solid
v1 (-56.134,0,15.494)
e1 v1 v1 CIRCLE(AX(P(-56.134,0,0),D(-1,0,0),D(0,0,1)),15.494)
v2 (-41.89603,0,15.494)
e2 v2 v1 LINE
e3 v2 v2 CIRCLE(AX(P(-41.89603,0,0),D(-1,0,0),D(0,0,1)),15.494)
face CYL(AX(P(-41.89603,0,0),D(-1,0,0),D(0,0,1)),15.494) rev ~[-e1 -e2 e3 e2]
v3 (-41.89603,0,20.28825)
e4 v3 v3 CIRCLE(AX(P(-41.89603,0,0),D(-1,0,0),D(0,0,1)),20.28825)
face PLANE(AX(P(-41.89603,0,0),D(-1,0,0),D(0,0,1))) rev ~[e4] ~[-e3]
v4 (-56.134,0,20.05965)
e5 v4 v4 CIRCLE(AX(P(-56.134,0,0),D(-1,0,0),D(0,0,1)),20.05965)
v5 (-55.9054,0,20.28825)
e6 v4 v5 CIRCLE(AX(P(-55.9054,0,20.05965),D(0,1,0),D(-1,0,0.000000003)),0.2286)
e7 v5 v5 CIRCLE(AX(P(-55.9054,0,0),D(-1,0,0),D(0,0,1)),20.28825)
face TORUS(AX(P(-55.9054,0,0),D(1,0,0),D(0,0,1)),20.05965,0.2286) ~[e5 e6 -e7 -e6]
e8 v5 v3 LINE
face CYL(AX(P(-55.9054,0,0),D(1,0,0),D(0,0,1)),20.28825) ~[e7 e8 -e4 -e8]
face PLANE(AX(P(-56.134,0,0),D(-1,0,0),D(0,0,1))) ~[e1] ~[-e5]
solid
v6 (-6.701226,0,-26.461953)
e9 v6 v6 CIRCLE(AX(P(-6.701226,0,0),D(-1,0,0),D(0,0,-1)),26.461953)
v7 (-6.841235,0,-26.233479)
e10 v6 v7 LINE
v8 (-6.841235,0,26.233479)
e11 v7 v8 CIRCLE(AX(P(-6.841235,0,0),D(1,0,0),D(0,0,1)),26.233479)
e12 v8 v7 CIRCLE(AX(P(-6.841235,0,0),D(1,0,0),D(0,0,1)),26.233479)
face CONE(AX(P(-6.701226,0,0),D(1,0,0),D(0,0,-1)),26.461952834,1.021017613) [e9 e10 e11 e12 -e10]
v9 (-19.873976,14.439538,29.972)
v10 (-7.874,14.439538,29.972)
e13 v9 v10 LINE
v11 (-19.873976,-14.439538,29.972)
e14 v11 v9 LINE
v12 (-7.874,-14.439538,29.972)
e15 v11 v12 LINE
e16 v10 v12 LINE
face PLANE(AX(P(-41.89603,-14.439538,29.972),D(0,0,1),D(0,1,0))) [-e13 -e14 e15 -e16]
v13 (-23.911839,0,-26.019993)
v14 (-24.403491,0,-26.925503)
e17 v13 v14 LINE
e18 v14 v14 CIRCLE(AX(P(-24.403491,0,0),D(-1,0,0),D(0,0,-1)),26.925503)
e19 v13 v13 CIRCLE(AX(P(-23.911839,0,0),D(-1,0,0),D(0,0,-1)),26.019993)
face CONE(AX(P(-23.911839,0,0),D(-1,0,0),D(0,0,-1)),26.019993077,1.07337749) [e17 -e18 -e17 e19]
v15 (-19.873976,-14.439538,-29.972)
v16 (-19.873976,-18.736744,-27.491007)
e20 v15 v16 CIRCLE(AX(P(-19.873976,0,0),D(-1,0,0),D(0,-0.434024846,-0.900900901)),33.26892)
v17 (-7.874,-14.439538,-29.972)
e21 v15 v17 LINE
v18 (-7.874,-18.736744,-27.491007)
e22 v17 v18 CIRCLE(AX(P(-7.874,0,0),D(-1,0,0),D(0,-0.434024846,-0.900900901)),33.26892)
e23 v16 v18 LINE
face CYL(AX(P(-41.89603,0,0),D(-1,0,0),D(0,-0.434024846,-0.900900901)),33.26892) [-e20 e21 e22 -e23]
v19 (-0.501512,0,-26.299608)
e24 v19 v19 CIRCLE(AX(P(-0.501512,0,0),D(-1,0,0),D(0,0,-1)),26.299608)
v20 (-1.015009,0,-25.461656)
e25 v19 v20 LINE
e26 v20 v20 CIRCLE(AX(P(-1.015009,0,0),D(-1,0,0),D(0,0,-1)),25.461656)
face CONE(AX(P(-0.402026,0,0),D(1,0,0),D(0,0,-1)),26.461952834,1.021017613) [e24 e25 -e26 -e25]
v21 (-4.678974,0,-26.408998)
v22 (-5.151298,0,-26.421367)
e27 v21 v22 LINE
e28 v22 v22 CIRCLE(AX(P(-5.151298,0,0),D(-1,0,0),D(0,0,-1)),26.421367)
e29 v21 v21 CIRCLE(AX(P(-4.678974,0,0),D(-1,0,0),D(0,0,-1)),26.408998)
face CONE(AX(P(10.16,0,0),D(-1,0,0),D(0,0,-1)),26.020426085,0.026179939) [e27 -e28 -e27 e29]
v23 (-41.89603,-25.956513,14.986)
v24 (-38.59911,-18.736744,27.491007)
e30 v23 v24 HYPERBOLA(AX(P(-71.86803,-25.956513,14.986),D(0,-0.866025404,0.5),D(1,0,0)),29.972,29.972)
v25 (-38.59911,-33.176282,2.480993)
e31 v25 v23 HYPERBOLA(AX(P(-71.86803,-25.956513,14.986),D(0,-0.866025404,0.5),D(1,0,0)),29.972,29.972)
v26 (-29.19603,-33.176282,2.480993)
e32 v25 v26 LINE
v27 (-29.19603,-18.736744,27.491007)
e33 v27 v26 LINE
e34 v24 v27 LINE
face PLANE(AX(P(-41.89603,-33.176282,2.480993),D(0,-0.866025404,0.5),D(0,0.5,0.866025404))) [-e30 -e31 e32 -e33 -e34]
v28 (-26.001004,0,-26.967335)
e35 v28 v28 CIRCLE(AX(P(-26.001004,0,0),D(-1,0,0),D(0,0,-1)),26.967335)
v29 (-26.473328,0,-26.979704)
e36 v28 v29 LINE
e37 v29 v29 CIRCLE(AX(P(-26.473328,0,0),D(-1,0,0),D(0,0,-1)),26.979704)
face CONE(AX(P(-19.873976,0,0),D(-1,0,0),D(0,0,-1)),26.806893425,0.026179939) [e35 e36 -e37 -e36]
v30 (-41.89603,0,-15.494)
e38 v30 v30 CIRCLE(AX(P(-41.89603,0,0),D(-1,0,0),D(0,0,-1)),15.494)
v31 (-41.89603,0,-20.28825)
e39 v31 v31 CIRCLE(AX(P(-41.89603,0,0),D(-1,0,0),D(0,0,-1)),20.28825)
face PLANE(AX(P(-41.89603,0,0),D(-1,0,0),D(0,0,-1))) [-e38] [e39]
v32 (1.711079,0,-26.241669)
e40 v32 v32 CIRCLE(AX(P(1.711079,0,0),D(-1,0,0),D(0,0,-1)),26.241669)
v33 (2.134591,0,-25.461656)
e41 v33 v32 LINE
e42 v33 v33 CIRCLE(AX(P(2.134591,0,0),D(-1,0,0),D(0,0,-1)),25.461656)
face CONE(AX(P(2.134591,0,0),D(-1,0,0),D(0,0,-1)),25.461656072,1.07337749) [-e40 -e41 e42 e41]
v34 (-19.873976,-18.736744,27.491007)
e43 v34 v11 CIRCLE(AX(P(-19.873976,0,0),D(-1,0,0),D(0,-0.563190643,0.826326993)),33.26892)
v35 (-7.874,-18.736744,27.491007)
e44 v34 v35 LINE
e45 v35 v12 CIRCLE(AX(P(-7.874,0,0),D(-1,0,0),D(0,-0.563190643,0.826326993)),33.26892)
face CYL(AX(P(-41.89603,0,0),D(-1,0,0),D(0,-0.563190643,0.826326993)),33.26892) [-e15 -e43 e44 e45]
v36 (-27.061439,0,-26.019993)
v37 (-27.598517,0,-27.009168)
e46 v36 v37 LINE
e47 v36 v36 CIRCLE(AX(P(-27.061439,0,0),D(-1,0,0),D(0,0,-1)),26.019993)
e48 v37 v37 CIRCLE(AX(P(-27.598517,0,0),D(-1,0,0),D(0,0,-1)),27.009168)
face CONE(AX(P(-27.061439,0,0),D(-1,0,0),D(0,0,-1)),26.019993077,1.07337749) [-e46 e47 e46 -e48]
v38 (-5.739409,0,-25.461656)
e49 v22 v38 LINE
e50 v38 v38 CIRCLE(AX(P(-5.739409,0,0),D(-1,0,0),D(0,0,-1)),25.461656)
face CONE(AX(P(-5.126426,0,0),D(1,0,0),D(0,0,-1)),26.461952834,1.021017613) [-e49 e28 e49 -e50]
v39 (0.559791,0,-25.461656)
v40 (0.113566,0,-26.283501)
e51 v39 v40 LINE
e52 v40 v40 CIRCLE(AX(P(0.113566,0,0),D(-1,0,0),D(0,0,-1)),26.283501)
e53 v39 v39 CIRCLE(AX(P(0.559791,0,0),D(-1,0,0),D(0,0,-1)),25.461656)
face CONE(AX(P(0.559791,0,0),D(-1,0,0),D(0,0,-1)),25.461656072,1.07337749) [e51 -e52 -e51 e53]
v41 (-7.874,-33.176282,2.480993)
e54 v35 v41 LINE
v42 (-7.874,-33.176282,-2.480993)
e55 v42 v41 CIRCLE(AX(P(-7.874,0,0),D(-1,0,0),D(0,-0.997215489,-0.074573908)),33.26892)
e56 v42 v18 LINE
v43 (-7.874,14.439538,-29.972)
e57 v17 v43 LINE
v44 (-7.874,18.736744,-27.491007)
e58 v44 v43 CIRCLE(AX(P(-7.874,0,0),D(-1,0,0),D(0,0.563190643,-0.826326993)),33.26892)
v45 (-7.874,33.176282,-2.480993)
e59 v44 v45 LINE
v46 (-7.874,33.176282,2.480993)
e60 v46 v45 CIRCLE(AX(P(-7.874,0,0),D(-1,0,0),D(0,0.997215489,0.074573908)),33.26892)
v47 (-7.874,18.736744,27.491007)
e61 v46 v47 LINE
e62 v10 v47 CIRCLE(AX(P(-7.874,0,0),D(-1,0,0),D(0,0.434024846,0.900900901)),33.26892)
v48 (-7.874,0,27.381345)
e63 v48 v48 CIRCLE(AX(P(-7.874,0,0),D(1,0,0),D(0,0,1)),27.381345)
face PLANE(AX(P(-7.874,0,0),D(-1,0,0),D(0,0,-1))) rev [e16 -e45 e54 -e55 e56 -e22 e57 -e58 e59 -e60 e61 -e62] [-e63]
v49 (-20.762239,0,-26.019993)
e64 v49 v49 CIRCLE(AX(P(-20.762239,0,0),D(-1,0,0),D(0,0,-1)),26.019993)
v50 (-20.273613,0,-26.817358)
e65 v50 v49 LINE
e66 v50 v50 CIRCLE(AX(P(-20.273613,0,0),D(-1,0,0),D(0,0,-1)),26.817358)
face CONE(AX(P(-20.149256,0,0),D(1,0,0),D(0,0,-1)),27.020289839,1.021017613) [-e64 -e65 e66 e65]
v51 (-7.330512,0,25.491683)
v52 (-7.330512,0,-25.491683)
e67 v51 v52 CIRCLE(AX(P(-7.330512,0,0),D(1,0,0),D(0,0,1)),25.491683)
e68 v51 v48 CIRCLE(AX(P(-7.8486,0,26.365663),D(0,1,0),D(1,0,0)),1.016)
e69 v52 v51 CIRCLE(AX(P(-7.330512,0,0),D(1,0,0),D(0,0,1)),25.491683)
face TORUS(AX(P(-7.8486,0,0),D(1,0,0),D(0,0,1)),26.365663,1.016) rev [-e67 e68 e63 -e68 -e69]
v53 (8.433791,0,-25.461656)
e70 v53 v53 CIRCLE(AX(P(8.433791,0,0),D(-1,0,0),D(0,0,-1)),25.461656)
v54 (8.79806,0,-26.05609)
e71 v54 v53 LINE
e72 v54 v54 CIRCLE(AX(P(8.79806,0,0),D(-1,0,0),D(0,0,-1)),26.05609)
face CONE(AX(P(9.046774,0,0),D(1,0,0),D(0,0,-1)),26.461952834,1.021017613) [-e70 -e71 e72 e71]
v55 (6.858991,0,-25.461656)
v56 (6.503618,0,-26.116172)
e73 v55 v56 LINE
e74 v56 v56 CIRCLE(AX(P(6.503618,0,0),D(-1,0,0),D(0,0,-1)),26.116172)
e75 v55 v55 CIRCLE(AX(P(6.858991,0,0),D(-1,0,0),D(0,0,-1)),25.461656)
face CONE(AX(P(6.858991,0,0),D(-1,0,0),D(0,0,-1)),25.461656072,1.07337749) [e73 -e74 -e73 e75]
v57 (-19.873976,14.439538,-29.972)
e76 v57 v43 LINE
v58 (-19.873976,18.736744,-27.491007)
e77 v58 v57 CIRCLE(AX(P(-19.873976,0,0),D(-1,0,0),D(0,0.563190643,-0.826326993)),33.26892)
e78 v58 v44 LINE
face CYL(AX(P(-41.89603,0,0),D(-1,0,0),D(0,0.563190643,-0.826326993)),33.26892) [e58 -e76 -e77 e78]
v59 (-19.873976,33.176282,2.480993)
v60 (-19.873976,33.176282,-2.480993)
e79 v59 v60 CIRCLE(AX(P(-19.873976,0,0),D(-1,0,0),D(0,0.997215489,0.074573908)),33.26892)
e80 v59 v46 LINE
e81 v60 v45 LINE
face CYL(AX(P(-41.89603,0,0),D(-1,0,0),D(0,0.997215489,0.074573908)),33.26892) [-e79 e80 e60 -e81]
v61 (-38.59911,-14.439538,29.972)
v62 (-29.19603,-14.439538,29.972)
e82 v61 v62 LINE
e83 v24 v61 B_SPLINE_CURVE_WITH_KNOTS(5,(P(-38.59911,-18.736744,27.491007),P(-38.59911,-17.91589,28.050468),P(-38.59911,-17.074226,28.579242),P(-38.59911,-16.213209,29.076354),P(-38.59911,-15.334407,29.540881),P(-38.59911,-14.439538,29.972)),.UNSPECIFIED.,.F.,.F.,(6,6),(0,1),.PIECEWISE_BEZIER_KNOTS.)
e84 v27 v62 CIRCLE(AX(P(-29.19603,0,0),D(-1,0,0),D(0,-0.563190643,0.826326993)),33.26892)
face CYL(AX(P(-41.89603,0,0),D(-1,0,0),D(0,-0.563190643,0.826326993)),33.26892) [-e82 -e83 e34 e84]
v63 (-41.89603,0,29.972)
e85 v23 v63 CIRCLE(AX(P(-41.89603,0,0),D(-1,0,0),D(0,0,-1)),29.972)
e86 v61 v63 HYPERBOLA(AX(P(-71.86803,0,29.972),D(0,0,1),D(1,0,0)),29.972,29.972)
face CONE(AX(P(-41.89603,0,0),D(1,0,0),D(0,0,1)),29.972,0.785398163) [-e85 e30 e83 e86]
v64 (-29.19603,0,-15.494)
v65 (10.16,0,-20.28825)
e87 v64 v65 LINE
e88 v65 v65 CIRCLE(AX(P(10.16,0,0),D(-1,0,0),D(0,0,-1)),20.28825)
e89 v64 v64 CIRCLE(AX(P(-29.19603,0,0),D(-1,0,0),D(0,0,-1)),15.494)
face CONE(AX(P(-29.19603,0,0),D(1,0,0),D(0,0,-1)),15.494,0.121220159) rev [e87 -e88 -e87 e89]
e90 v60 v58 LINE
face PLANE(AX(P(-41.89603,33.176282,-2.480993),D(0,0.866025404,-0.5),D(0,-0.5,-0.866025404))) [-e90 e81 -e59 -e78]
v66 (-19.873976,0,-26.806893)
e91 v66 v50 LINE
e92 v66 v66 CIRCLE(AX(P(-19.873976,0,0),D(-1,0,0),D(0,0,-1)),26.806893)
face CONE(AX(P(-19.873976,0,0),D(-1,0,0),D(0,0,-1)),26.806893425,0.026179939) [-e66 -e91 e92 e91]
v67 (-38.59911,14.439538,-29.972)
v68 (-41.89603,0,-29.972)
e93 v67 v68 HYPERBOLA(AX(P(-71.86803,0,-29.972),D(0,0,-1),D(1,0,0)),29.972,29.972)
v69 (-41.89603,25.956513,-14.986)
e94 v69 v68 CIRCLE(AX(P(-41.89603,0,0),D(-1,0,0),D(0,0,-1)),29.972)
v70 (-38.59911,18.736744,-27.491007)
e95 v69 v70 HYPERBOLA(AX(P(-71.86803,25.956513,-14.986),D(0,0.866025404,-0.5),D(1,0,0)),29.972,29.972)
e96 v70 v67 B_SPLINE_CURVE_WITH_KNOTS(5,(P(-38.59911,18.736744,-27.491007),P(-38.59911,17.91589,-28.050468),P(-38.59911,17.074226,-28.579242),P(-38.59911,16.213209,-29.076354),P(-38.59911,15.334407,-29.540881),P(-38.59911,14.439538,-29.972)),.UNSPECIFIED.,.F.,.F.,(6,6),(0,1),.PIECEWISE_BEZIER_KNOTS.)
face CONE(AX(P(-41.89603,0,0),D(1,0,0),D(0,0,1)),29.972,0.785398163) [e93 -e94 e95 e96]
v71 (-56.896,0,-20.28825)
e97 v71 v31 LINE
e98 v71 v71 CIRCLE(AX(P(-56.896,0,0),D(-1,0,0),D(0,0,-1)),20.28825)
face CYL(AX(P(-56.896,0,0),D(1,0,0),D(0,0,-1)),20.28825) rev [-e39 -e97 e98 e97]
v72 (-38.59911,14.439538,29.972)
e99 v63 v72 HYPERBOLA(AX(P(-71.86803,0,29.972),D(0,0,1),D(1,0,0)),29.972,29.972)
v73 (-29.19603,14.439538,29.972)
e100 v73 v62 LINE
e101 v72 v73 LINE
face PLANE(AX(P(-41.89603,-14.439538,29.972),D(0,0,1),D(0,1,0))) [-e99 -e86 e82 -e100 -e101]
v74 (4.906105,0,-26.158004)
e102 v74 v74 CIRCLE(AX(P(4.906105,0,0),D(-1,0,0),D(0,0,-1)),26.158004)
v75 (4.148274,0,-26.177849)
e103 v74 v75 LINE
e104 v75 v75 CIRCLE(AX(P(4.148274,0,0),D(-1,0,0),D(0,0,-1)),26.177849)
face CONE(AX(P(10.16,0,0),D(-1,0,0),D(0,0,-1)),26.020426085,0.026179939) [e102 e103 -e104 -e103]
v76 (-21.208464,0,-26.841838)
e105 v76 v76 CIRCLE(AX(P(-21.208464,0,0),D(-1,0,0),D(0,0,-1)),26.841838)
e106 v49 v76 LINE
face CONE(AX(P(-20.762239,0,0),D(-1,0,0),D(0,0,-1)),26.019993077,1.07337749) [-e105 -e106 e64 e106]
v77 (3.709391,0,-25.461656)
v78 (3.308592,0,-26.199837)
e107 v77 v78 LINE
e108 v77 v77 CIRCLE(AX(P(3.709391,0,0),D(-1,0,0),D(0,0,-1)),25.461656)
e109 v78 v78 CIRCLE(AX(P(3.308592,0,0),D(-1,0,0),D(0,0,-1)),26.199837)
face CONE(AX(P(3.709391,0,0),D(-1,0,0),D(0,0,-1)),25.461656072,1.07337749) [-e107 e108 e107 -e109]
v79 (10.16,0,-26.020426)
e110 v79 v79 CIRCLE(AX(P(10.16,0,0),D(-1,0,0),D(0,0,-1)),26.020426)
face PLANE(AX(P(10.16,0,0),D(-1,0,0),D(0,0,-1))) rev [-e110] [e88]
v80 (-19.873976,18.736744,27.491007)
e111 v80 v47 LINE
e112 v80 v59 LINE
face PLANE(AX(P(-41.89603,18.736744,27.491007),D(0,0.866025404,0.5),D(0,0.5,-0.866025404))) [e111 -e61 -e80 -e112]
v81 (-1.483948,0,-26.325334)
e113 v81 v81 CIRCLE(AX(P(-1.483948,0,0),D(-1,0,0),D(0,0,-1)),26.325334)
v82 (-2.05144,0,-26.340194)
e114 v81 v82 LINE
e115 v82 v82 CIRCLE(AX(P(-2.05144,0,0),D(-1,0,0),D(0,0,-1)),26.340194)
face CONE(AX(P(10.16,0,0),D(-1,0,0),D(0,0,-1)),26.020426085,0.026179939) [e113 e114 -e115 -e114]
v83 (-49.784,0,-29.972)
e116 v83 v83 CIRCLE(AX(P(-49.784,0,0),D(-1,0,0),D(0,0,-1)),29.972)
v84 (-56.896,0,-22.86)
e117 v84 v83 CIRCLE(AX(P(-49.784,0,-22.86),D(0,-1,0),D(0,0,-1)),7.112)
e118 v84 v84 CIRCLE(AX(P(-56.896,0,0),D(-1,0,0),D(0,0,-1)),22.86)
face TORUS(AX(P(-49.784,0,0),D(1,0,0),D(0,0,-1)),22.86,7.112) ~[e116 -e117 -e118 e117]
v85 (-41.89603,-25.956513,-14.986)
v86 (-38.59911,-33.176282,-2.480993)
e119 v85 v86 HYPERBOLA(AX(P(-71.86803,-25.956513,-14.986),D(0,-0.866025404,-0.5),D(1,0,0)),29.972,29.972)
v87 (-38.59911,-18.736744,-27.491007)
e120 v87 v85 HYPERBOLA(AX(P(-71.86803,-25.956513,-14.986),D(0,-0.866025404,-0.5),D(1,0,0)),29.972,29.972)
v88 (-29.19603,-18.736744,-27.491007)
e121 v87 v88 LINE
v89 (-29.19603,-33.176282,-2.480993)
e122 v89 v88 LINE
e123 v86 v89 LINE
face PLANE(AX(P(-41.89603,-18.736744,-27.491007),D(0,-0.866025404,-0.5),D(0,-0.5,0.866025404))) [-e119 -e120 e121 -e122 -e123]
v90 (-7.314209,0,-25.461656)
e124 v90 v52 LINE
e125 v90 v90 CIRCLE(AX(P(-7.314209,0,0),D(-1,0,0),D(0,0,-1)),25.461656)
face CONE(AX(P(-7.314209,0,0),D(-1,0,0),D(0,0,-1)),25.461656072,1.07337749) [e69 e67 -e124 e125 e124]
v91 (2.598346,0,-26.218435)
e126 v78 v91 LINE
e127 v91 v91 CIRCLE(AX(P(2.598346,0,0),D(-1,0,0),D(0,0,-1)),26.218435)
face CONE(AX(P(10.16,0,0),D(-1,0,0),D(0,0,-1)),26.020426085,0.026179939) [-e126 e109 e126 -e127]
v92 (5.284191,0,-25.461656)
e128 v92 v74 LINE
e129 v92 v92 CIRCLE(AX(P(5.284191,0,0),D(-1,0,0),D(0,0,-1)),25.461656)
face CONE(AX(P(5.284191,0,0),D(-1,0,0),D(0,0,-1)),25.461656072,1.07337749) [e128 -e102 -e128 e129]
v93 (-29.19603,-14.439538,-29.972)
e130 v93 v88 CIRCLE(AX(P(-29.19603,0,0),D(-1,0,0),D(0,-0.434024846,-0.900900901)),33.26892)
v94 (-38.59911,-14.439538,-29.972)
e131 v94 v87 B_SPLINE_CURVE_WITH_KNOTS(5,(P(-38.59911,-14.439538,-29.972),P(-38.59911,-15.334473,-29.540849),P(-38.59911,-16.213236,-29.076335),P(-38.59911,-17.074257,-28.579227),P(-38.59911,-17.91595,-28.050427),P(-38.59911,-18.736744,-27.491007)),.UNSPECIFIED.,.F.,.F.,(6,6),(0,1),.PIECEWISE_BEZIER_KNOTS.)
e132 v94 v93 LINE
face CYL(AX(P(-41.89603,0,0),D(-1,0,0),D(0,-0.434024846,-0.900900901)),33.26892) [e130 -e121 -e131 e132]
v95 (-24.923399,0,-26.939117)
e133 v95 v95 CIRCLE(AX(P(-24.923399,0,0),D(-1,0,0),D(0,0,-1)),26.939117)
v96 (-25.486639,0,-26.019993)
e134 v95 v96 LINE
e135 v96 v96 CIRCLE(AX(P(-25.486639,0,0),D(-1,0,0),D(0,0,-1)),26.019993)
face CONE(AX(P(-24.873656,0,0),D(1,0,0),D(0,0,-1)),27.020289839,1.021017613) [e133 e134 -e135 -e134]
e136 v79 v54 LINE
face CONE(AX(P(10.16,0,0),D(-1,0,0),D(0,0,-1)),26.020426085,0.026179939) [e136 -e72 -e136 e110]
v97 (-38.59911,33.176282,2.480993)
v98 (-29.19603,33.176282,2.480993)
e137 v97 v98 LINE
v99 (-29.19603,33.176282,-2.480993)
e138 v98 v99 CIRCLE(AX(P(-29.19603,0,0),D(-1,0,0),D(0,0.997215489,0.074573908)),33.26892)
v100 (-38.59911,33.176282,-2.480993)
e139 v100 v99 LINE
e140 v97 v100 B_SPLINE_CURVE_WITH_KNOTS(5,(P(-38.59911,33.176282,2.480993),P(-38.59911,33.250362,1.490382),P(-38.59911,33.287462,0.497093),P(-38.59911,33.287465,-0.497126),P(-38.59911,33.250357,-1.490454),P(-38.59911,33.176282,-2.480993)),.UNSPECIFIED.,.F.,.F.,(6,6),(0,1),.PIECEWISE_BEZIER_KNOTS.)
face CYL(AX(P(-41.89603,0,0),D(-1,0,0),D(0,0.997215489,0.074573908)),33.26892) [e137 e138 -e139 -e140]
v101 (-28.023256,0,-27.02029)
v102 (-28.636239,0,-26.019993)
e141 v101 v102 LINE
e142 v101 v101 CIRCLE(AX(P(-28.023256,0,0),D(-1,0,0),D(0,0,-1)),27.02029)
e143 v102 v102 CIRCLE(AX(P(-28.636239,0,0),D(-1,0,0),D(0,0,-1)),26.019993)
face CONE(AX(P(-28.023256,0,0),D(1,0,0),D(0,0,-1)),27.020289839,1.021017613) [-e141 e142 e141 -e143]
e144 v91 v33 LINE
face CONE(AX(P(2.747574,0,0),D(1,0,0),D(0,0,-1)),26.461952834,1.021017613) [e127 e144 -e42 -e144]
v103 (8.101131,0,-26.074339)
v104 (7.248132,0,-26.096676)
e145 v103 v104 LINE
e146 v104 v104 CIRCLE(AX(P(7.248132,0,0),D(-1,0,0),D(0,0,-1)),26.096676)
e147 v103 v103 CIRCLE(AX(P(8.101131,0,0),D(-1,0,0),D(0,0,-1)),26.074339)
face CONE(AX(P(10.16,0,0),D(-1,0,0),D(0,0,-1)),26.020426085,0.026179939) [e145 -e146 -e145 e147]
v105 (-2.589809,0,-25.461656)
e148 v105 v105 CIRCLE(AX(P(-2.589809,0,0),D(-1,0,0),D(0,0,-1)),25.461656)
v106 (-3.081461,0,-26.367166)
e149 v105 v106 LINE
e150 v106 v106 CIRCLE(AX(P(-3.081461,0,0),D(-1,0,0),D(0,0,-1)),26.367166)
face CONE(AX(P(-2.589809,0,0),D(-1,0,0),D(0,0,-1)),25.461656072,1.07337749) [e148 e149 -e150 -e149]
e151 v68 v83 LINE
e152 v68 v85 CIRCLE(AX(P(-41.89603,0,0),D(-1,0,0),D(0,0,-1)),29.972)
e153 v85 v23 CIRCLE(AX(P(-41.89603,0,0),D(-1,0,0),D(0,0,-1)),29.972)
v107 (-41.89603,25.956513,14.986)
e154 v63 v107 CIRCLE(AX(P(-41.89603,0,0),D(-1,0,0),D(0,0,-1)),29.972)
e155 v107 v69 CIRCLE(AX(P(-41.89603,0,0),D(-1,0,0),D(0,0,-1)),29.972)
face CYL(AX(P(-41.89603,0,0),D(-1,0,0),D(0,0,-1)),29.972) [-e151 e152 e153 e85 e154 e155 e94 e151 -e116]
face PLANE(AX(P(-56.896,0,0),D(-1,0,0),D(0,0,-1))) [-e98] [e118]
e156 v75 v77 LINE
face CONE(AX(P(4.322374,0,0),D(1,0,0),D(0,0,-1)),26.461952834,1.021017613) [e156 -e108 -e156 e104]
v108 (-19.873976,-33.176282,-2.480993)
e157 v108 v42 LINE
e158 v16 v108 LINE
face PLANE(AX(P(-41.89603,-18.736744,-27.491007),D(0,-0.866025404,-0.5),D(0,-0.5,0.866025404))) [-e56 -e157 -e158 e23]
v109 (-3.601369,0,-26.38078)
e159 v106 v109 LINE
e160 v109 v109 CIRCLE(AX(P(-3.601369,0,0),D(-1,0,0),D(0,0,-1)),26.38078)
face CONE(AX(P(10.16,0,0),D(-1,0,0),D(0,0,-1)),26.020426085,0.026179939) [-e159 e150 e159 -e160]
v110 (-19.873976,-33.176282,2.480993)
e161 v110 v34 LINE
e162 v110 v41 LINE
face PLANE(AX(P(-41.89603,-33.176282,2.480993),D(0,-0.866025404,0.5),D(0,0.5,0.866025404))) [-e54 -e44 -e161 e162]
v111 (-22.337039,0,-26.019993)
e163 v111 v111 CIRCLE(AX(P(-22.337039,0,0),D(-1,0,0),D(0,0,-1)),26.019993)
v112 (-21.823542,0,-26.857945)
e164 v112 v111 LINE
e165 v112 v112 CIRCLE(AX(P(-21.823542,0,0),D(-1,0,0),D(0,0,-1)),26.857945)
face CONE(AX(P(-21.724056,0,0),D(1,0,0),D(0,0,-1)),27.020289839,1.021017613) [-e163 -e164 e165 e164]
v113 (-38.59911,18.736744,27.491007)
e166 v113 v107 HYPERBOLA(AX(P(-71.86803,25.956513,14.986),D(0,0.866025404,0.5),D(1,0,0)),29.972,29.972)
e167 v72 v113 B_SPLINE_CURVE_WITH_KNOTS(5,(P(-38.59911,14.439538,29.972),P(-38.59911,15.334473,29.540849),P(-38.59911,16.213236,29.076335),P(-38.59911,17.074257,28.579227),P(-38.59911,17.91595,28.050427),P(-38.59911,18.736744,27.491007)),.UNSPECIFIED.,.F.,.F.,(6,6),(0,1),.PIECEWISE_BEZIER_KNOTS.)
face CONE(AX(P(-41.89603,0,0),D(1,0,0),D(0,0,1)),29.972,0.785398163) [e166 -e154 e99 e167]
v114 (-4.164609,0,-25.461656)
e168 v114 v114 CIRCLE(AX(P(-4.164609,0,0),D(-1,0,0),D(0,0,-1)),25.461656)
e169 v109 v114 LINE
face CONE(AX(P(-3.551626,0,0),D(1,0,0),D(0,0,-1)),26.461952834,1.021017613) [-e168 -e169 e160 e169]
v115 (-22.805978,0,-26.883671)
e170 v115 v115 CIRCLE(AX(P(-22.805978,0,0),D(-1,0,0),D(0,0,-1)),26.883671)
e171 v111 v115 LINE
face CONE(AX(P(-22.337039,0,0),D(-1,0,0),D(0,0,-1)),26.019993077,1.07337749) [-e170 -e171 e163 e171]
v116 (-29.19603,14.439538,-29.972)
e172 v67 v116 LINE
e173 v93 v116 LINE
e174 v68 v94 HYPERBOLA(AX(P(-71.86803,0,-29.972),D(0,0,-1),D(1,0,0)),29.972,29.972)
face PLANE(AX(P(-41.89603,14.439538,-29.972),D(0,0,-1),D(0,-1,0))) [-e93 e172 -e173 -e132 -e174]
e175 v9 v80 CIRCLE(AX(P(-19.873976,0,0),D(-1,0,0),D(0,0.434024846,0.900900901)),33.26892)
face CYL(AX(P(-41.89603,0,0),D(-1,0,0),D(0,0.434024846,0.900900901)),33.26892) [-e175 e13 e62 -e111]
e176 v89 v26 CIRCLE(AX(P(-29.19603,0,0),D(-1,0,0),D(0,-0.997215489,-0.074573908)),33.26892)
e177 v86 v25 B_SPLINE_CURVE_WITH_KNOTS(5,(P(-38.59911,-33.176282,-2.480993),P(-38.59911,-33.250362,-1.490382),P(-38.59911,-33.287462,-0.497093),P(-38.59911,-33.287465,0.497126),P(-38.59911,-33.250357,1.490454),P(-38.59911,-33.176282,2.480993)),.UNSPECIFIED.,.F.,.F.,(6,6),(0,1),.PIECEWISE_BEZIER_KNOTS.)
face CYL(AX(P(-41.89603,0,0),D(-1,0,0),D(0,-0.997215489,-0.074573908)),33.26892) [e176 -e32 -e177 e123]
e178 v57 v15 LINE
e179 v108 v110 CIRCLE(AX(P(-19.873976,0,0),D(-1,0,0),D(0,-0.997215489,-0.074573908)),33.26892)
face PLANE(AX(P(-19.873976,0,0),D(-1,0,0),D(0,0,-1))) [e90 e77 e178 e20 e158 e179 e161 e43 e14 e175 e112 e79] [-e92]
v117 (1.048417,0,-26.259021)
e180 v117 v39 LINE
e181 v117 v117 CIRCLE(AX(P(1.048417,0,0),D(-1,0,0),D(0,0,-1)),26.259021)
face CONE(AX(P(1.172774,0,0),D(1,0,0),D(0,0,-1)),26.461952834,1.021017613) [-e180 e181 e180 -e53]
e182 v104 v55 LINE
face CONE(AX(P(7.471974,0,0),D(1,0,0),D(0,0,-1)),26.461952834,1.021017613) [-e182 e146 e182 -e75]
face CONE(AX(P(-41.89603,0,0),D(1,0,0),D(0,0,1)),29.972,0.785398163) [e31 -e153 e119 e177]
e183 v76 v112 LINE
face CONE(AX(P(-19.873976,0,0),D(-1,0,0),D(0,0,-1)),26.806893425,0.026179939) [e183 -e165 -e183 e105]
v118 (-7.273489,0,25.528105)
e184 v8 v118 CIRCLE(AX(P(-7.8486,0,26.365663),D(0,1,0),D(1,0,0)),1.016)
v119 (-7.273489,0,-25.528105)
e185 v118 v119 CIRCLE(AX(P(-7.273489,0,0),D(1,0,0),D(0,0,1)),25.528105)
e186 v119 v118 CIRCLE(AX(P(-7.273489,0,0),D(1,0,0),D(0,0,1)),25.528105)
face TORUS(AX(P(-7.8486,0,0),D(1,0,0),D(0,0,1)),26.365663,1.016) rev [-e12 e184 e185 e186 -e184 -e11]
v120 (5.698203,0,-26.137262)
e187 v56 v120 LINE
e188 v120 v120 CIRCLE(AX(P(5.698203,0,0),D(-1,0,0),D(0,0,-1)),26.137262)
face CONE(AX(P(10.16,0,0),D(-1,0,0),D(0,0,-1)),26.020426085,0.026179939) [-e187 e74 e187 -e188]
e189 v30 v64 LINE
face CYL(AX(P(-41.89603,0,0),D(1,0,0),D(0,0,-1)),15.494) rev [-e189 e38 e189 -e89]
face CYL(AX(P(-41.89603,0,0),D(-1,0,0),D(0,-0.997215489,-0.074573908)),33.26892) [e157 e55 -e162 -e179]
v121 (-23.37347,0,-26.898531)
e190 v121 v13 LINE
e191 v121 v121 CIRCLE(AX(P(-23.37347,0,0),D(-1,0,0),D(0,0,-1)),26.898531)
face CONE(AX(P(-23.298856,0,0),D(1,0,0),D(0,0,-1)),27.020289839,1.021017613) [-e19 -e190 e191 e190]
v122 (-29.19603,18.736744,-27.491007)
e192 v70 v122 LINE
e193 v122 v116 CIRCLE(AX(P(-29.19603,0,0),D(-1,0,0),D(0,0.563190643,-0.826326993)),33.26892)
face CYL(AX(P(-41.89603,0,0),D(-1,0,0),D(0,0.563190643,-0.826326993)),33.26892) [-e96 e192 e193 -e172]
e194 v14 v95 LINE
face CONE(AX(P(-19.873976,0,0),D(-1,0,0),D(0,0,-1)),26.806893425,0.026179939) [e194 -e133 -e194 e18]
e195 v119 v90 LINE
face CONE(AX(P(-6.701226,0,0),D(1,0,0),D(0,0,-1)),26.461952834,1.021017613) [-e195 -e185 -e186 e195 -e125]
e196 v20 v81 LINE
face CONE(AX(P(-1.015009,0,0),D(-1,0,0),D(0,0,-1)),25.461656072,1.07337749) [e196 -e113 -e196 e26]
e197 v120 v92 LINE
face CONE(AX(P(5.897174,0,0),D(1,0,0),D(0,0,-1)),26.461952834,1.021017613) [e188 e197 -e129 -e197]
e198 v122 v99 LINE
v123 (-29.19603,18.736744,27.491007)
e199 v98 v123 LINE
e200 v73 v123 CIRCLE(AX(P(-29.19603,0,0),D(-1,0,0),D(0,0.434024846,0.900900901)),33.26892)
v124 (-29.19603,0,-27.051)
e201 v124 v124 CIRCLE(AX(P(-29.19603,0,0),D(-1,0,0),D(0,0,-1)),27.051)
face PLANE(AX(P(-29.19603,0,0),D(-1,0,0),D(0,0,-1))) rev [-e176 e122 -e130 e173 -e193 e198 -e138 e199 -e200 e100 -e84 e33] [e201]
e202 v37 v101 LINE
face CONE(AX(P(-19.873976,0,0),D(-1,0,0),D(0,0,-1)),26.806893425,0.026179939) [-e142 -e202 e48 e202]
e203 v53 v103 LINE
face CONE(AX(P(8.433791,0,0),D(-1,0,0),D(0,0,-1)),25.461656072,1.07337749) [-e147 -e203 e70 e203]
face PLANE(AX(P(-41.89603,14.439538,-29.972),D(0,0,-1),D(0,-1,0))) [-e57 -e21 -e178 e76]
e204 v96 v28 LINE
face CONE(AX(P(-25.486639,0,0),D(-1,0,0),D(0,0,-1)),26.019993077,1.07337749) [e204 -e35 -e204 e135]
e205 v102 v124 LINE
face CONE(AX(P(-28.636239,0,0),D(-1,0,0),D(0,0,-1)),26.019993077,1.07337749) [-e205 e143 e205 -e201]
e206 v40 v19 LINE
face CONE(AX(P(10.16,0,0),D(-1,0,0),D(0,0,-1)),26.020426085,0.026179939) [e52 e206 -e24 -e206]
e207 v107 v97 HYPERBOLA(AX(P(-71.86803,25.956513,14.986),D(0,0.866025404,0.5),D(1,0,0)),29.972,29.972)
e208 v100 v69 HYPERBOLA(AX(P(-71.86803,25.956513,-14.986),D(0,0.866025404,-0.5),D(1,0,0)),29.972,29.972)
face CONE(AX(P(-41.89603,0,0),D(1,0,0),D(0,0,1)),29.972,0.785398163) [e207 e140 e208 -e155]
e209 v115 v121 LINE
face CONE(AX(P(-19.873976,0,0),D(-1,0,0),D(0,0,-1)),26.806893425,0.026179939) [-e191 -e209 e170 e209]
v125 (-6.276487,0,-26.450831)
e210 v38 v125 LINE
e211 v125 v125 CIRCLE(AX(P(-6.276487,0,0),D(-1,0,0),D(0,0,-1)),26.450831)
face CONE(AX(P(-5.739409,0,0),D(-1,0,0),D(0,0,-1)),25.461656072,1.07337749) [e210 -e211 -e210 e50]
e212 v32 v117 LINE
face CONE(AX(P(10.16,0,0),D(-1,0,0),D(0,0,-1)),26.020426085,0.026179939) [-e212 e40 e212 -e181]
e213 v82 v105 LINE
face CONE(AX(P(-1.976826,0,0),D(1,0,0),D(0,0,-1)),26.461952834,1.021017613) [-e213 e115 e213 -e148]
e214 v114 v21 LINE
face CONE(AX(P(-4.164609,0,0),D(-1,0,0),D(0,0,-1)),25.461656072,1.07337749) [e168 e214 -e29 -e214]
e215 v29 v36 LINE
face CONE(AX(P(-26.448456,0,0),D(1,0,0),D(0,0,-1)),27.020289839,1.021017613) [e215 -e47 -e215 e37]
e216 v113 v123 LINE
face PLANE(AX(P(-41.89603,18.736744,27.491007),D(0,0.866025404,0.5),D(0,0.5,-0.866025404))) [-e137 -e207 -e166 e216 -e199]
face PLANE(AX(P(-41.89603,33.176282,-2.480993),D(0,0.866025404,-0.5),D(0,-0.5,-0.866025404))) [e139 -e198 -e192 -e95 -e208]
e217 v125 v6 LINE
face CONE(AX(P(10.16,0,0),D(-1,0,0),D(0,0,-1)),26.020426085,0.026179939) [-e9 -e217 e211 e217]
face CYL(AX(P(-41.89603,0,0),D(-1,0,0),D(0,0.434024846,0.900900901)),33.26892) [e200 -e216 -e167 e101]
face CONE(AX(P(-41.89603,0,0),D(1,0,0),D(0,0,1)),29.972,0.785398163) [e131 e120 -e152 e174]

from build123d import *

# Parameters (mm, degrees)
LPATTERN6_COUNT    = 6
LPATTERN6_PITCH    = 1.5748
LPATTERN7_COUNT    = 11
LPATTERN7_PITCH    = 1.5748
SKETCH12_OUTSIDE_W = 158.354
SKETCH12_OUTSIDE_H = 158.354
CUT_EXTRUDE2_DEPTH = 53.05603
FILLET4_R          = 7.112
SKETCH19_OUTSIDE_W = 92.316
SKETCH19_OUTSIDE_H = 98.91
SKETCH19_OUTSIDE_R = 29.972
CUT_EXTRUDE3_DEPTH = 3.99796
CUT_EXTRUDE3_DRAFT = -45
SKETCH28_R         = 1.016


with BuildPart() as part:
    # Sketch10 → Revolve2 (revolve)
    with BuildSketch(Plane.XY, mode=Mode.PRIVATE) as revolve2_sk:
        Polygon((-41.89603, 15.494), (-29.19603, 15.494), (10.16, 20.28825), (10.16, 26.020426085), (-7.874, 26.492662995), (-7.874, 59.944), (-19.873976, 59.944), (-19.873976, 26.806893425), (-29.19603, 27.051), (-29.19603, 59.944), (-41.89603, 59.944), (-41.89603, 29.972), (-56.896, 29.972), (-56.896, 20.28825), (-41.89603, 20.28825), align=None)
    revolve(revolve2_sk.sketch.rotate(Axis((0, 0, 0), (-1, 0, 0)), 90), axis=Axis((0, 0, 0), (-1, 0, 0)))  # turned: the seam where the file's is

    # Sketch26 → Cut-Revolve1 (revolve, cut)
    with BuildSketch(Plane.XY, mode=Mode.PRIVATE) as cut_revolve1_sk:
        Polygon((-29.19603, 27.051), (-28.023256271, 27.020289839), (-28.636238915, 26.019993077), align=None)
    cut_revolve1 = revolve(cut_revolve1_sk.sketch.rotate(Axis((0, 0, 0), (-1, 0, 0)), 90), axis=Axis((0, 0, 0), (-1, 0, 0)), mode=Mode.SUBTRACT)  # turned: the seam where the file's is

    # LPattern6: Cut-Revolve1 ×6
    with Locations(*[(i * LPATTERN6_PITCH, 0, 0) for i in range(1, LPATTERN6_COUNT)]):
        add(cut_revolve1, mode=Mode.SUBTRACT)

    # Sketch27 → Cut-Revolve2 (revolve, cut)
    with BuildSketch(Plane.XY, mode=Mode.PRIVATE) as cut_revolve2_sk:
        Polygon((-7.874, 26.492662995), (-6.701226271, 26.461952834), (-7.314208915, 25.461656072), align=None)
    cut_revolve2 = revolve(cut_revolve2_sk.sketch.rotate(Axis((0, 0, 0), (-1, 0, 0)), 90), axis=Axis((0, 0, 0), (-1, 0, 0)), mode=Mode.SUBTRACT)  # turned: the seam where the file's is

    # LPattern7: Cut-Revolve2 ×11
    with Locations(*[(i * LPATTERN7_PITCH, 0, 0) for i in range(1, LPATTERN7_COUNT)]):
        add(cut_revolve2, mode=Mode.SUBTRACT)

    # Sketch12 outside → Cut-Extrude2 (cut, through all)
    with BuildSketch(Plane.ZY.offset(41.89603)):
        Rectangle(SKETCH12_OUTSIDE_W, SKETCH12_OUTSIDE_H)
        with BuildLine():
            Line((-2.480993384, 33.176282338), (-27.491006616, 18.736744466))
            ThreePointArc((-27.491006616, 18.736744466), (-28.811729876, 16.63446), (-29.972, 14.439537872))
            Line((-29.972, 14.439537872), (-29.972, -14.439537872))
            ThreePointArc((-29.972, -14.439537872), (-28.811729876, -16.63446), (-27.491006616, -18.736744466))
            Line((-27.491006616, -18.736744466), (-2.480993384, -33.176282338))
            ThreePointArc((-2.480993384, -33.176282338), (0, -33.26892), (2.480993384, -33.176282338))
            Line((2.480993384, -33.176282338), (27.491006616, -18.736744466))
            ThreePointArc((27.491006616, -18.736744466), (28.811729876, -16.63446), (29.972, -14.439537872))
            Line((29.972, -14.439537872), (29.972, 14.439537872))
            ThreePointArc((29.972, 14.439537872), (28.811729876, 16.63446), (27.491006616, 18.736744466))
            Line((27.491006616, 18.736744466), (2.480993384, 33.176282338))
            ThreePointArc((2.480993384, 33.176282338), (0, 33.26892), (-2.480993384, 33.176282338))
        make_face(mode=Mode.SUBTRACT)
    extrude(amount=-CUT_EXTRUDE2_DEPTH, mode=Mode.SUBTRACT)

    # Fillet4
    fillet4_edges = [part.edges().sort_by_distance(p)[0] for p in [
        (-56.896, 0, 29.972),
    ]]
    fillet(fillet4_edges, radius=FILLET4_R)


with BuildPart() as body_2:
    # Sketch30 → Revolve8 (revolve)
    with BuildSketch(Plane.XY, mode=Mode.PRIVATE) as revolve8_sk:
        with BuildLine():
            Line((-55.9054, 20.28825), (-41.89603, 20.28825))
            Line((-41.89603, 20.28825), (-41.89603, 15.494))
            Line((-41.89603, 15.494), (-56.134, 15.494))
            Line((-56.134, 15.494), (-56.134, 20.05965))
            ThreePointArc((-56.134, 20.05965), (-56.06704461, 20.22129461), (-55.9054, 20.28825))
        make_face()
    revolve(revolve8_sk.sketch.rotate(Axis((0, 0, 0), (-1, 0, 0)), 270), axis=Axis((0, 0, 0), (-1, 0, 0)))  # turned: the seam where the file's is


with BuildPart() as cut_extrude3_tool:
    # Sketch19 outside → Cut-Extrude3 (with draft: the straight prism first)
    with BuildSketch(Plane.ZY.offset(41.89603)):
        Rectangle(SKETCH19_OUTSIDE_W, SKETCH19_OUTSIDE_H)
        Circle(SKETCH19_OUTSIDE_R, mode=Mode.SUBTRACT)
    extrude(amount=-CUT_EXTRUDE3_DEPTH)
    # Cut-Extrude3: the draft: its side faces are tilted about the plane it starts from
    cut_extrude3_sides = [cut_extrude3_tool.faces().sort_by_distance(p)[0] for p in [
        (-39.89705, -49.455, 0),
        (-39.89705, 0, 46.158),
        (-39.89705, 49.455, 0),
        (-39.89705, 0, -46.158),
        (-39.89705, 0, -29.972),
    ]]
    draft(cut_extrude3_sides, Plane.ZY.offset(41.89603), CUT_EXTRUDE3_DRAFT)


with BuildPart() as part_1:
    add(part.part)

    # Cut-Extrude3: cut by cut_extrude3_tool
    add(cut_extrude3_tool.part, mode=Mode.SUBTRACT)

    # Sketch28 → Cut-Revolve3 (revolve, cut)
    with BuildSketch(Plane.XY, mode=Mode.PRIVATE) as cut_revolve3_sk:
        with Locations((-7.8486, -26.365662995)):
            Circle(SKETCH28_R)
    revolve(cut_revolve3_sk.sketch.rotate(Axis((10.16, 0, 0), (-1, 0, 0)), 90), axis=Axis((10.16, 0, 0), (-1, 0, 0)), mode=Mode.SUBTRACT)  # turned: the seam where the file's is


solid = Compound([body_2.part, part_1.part])
